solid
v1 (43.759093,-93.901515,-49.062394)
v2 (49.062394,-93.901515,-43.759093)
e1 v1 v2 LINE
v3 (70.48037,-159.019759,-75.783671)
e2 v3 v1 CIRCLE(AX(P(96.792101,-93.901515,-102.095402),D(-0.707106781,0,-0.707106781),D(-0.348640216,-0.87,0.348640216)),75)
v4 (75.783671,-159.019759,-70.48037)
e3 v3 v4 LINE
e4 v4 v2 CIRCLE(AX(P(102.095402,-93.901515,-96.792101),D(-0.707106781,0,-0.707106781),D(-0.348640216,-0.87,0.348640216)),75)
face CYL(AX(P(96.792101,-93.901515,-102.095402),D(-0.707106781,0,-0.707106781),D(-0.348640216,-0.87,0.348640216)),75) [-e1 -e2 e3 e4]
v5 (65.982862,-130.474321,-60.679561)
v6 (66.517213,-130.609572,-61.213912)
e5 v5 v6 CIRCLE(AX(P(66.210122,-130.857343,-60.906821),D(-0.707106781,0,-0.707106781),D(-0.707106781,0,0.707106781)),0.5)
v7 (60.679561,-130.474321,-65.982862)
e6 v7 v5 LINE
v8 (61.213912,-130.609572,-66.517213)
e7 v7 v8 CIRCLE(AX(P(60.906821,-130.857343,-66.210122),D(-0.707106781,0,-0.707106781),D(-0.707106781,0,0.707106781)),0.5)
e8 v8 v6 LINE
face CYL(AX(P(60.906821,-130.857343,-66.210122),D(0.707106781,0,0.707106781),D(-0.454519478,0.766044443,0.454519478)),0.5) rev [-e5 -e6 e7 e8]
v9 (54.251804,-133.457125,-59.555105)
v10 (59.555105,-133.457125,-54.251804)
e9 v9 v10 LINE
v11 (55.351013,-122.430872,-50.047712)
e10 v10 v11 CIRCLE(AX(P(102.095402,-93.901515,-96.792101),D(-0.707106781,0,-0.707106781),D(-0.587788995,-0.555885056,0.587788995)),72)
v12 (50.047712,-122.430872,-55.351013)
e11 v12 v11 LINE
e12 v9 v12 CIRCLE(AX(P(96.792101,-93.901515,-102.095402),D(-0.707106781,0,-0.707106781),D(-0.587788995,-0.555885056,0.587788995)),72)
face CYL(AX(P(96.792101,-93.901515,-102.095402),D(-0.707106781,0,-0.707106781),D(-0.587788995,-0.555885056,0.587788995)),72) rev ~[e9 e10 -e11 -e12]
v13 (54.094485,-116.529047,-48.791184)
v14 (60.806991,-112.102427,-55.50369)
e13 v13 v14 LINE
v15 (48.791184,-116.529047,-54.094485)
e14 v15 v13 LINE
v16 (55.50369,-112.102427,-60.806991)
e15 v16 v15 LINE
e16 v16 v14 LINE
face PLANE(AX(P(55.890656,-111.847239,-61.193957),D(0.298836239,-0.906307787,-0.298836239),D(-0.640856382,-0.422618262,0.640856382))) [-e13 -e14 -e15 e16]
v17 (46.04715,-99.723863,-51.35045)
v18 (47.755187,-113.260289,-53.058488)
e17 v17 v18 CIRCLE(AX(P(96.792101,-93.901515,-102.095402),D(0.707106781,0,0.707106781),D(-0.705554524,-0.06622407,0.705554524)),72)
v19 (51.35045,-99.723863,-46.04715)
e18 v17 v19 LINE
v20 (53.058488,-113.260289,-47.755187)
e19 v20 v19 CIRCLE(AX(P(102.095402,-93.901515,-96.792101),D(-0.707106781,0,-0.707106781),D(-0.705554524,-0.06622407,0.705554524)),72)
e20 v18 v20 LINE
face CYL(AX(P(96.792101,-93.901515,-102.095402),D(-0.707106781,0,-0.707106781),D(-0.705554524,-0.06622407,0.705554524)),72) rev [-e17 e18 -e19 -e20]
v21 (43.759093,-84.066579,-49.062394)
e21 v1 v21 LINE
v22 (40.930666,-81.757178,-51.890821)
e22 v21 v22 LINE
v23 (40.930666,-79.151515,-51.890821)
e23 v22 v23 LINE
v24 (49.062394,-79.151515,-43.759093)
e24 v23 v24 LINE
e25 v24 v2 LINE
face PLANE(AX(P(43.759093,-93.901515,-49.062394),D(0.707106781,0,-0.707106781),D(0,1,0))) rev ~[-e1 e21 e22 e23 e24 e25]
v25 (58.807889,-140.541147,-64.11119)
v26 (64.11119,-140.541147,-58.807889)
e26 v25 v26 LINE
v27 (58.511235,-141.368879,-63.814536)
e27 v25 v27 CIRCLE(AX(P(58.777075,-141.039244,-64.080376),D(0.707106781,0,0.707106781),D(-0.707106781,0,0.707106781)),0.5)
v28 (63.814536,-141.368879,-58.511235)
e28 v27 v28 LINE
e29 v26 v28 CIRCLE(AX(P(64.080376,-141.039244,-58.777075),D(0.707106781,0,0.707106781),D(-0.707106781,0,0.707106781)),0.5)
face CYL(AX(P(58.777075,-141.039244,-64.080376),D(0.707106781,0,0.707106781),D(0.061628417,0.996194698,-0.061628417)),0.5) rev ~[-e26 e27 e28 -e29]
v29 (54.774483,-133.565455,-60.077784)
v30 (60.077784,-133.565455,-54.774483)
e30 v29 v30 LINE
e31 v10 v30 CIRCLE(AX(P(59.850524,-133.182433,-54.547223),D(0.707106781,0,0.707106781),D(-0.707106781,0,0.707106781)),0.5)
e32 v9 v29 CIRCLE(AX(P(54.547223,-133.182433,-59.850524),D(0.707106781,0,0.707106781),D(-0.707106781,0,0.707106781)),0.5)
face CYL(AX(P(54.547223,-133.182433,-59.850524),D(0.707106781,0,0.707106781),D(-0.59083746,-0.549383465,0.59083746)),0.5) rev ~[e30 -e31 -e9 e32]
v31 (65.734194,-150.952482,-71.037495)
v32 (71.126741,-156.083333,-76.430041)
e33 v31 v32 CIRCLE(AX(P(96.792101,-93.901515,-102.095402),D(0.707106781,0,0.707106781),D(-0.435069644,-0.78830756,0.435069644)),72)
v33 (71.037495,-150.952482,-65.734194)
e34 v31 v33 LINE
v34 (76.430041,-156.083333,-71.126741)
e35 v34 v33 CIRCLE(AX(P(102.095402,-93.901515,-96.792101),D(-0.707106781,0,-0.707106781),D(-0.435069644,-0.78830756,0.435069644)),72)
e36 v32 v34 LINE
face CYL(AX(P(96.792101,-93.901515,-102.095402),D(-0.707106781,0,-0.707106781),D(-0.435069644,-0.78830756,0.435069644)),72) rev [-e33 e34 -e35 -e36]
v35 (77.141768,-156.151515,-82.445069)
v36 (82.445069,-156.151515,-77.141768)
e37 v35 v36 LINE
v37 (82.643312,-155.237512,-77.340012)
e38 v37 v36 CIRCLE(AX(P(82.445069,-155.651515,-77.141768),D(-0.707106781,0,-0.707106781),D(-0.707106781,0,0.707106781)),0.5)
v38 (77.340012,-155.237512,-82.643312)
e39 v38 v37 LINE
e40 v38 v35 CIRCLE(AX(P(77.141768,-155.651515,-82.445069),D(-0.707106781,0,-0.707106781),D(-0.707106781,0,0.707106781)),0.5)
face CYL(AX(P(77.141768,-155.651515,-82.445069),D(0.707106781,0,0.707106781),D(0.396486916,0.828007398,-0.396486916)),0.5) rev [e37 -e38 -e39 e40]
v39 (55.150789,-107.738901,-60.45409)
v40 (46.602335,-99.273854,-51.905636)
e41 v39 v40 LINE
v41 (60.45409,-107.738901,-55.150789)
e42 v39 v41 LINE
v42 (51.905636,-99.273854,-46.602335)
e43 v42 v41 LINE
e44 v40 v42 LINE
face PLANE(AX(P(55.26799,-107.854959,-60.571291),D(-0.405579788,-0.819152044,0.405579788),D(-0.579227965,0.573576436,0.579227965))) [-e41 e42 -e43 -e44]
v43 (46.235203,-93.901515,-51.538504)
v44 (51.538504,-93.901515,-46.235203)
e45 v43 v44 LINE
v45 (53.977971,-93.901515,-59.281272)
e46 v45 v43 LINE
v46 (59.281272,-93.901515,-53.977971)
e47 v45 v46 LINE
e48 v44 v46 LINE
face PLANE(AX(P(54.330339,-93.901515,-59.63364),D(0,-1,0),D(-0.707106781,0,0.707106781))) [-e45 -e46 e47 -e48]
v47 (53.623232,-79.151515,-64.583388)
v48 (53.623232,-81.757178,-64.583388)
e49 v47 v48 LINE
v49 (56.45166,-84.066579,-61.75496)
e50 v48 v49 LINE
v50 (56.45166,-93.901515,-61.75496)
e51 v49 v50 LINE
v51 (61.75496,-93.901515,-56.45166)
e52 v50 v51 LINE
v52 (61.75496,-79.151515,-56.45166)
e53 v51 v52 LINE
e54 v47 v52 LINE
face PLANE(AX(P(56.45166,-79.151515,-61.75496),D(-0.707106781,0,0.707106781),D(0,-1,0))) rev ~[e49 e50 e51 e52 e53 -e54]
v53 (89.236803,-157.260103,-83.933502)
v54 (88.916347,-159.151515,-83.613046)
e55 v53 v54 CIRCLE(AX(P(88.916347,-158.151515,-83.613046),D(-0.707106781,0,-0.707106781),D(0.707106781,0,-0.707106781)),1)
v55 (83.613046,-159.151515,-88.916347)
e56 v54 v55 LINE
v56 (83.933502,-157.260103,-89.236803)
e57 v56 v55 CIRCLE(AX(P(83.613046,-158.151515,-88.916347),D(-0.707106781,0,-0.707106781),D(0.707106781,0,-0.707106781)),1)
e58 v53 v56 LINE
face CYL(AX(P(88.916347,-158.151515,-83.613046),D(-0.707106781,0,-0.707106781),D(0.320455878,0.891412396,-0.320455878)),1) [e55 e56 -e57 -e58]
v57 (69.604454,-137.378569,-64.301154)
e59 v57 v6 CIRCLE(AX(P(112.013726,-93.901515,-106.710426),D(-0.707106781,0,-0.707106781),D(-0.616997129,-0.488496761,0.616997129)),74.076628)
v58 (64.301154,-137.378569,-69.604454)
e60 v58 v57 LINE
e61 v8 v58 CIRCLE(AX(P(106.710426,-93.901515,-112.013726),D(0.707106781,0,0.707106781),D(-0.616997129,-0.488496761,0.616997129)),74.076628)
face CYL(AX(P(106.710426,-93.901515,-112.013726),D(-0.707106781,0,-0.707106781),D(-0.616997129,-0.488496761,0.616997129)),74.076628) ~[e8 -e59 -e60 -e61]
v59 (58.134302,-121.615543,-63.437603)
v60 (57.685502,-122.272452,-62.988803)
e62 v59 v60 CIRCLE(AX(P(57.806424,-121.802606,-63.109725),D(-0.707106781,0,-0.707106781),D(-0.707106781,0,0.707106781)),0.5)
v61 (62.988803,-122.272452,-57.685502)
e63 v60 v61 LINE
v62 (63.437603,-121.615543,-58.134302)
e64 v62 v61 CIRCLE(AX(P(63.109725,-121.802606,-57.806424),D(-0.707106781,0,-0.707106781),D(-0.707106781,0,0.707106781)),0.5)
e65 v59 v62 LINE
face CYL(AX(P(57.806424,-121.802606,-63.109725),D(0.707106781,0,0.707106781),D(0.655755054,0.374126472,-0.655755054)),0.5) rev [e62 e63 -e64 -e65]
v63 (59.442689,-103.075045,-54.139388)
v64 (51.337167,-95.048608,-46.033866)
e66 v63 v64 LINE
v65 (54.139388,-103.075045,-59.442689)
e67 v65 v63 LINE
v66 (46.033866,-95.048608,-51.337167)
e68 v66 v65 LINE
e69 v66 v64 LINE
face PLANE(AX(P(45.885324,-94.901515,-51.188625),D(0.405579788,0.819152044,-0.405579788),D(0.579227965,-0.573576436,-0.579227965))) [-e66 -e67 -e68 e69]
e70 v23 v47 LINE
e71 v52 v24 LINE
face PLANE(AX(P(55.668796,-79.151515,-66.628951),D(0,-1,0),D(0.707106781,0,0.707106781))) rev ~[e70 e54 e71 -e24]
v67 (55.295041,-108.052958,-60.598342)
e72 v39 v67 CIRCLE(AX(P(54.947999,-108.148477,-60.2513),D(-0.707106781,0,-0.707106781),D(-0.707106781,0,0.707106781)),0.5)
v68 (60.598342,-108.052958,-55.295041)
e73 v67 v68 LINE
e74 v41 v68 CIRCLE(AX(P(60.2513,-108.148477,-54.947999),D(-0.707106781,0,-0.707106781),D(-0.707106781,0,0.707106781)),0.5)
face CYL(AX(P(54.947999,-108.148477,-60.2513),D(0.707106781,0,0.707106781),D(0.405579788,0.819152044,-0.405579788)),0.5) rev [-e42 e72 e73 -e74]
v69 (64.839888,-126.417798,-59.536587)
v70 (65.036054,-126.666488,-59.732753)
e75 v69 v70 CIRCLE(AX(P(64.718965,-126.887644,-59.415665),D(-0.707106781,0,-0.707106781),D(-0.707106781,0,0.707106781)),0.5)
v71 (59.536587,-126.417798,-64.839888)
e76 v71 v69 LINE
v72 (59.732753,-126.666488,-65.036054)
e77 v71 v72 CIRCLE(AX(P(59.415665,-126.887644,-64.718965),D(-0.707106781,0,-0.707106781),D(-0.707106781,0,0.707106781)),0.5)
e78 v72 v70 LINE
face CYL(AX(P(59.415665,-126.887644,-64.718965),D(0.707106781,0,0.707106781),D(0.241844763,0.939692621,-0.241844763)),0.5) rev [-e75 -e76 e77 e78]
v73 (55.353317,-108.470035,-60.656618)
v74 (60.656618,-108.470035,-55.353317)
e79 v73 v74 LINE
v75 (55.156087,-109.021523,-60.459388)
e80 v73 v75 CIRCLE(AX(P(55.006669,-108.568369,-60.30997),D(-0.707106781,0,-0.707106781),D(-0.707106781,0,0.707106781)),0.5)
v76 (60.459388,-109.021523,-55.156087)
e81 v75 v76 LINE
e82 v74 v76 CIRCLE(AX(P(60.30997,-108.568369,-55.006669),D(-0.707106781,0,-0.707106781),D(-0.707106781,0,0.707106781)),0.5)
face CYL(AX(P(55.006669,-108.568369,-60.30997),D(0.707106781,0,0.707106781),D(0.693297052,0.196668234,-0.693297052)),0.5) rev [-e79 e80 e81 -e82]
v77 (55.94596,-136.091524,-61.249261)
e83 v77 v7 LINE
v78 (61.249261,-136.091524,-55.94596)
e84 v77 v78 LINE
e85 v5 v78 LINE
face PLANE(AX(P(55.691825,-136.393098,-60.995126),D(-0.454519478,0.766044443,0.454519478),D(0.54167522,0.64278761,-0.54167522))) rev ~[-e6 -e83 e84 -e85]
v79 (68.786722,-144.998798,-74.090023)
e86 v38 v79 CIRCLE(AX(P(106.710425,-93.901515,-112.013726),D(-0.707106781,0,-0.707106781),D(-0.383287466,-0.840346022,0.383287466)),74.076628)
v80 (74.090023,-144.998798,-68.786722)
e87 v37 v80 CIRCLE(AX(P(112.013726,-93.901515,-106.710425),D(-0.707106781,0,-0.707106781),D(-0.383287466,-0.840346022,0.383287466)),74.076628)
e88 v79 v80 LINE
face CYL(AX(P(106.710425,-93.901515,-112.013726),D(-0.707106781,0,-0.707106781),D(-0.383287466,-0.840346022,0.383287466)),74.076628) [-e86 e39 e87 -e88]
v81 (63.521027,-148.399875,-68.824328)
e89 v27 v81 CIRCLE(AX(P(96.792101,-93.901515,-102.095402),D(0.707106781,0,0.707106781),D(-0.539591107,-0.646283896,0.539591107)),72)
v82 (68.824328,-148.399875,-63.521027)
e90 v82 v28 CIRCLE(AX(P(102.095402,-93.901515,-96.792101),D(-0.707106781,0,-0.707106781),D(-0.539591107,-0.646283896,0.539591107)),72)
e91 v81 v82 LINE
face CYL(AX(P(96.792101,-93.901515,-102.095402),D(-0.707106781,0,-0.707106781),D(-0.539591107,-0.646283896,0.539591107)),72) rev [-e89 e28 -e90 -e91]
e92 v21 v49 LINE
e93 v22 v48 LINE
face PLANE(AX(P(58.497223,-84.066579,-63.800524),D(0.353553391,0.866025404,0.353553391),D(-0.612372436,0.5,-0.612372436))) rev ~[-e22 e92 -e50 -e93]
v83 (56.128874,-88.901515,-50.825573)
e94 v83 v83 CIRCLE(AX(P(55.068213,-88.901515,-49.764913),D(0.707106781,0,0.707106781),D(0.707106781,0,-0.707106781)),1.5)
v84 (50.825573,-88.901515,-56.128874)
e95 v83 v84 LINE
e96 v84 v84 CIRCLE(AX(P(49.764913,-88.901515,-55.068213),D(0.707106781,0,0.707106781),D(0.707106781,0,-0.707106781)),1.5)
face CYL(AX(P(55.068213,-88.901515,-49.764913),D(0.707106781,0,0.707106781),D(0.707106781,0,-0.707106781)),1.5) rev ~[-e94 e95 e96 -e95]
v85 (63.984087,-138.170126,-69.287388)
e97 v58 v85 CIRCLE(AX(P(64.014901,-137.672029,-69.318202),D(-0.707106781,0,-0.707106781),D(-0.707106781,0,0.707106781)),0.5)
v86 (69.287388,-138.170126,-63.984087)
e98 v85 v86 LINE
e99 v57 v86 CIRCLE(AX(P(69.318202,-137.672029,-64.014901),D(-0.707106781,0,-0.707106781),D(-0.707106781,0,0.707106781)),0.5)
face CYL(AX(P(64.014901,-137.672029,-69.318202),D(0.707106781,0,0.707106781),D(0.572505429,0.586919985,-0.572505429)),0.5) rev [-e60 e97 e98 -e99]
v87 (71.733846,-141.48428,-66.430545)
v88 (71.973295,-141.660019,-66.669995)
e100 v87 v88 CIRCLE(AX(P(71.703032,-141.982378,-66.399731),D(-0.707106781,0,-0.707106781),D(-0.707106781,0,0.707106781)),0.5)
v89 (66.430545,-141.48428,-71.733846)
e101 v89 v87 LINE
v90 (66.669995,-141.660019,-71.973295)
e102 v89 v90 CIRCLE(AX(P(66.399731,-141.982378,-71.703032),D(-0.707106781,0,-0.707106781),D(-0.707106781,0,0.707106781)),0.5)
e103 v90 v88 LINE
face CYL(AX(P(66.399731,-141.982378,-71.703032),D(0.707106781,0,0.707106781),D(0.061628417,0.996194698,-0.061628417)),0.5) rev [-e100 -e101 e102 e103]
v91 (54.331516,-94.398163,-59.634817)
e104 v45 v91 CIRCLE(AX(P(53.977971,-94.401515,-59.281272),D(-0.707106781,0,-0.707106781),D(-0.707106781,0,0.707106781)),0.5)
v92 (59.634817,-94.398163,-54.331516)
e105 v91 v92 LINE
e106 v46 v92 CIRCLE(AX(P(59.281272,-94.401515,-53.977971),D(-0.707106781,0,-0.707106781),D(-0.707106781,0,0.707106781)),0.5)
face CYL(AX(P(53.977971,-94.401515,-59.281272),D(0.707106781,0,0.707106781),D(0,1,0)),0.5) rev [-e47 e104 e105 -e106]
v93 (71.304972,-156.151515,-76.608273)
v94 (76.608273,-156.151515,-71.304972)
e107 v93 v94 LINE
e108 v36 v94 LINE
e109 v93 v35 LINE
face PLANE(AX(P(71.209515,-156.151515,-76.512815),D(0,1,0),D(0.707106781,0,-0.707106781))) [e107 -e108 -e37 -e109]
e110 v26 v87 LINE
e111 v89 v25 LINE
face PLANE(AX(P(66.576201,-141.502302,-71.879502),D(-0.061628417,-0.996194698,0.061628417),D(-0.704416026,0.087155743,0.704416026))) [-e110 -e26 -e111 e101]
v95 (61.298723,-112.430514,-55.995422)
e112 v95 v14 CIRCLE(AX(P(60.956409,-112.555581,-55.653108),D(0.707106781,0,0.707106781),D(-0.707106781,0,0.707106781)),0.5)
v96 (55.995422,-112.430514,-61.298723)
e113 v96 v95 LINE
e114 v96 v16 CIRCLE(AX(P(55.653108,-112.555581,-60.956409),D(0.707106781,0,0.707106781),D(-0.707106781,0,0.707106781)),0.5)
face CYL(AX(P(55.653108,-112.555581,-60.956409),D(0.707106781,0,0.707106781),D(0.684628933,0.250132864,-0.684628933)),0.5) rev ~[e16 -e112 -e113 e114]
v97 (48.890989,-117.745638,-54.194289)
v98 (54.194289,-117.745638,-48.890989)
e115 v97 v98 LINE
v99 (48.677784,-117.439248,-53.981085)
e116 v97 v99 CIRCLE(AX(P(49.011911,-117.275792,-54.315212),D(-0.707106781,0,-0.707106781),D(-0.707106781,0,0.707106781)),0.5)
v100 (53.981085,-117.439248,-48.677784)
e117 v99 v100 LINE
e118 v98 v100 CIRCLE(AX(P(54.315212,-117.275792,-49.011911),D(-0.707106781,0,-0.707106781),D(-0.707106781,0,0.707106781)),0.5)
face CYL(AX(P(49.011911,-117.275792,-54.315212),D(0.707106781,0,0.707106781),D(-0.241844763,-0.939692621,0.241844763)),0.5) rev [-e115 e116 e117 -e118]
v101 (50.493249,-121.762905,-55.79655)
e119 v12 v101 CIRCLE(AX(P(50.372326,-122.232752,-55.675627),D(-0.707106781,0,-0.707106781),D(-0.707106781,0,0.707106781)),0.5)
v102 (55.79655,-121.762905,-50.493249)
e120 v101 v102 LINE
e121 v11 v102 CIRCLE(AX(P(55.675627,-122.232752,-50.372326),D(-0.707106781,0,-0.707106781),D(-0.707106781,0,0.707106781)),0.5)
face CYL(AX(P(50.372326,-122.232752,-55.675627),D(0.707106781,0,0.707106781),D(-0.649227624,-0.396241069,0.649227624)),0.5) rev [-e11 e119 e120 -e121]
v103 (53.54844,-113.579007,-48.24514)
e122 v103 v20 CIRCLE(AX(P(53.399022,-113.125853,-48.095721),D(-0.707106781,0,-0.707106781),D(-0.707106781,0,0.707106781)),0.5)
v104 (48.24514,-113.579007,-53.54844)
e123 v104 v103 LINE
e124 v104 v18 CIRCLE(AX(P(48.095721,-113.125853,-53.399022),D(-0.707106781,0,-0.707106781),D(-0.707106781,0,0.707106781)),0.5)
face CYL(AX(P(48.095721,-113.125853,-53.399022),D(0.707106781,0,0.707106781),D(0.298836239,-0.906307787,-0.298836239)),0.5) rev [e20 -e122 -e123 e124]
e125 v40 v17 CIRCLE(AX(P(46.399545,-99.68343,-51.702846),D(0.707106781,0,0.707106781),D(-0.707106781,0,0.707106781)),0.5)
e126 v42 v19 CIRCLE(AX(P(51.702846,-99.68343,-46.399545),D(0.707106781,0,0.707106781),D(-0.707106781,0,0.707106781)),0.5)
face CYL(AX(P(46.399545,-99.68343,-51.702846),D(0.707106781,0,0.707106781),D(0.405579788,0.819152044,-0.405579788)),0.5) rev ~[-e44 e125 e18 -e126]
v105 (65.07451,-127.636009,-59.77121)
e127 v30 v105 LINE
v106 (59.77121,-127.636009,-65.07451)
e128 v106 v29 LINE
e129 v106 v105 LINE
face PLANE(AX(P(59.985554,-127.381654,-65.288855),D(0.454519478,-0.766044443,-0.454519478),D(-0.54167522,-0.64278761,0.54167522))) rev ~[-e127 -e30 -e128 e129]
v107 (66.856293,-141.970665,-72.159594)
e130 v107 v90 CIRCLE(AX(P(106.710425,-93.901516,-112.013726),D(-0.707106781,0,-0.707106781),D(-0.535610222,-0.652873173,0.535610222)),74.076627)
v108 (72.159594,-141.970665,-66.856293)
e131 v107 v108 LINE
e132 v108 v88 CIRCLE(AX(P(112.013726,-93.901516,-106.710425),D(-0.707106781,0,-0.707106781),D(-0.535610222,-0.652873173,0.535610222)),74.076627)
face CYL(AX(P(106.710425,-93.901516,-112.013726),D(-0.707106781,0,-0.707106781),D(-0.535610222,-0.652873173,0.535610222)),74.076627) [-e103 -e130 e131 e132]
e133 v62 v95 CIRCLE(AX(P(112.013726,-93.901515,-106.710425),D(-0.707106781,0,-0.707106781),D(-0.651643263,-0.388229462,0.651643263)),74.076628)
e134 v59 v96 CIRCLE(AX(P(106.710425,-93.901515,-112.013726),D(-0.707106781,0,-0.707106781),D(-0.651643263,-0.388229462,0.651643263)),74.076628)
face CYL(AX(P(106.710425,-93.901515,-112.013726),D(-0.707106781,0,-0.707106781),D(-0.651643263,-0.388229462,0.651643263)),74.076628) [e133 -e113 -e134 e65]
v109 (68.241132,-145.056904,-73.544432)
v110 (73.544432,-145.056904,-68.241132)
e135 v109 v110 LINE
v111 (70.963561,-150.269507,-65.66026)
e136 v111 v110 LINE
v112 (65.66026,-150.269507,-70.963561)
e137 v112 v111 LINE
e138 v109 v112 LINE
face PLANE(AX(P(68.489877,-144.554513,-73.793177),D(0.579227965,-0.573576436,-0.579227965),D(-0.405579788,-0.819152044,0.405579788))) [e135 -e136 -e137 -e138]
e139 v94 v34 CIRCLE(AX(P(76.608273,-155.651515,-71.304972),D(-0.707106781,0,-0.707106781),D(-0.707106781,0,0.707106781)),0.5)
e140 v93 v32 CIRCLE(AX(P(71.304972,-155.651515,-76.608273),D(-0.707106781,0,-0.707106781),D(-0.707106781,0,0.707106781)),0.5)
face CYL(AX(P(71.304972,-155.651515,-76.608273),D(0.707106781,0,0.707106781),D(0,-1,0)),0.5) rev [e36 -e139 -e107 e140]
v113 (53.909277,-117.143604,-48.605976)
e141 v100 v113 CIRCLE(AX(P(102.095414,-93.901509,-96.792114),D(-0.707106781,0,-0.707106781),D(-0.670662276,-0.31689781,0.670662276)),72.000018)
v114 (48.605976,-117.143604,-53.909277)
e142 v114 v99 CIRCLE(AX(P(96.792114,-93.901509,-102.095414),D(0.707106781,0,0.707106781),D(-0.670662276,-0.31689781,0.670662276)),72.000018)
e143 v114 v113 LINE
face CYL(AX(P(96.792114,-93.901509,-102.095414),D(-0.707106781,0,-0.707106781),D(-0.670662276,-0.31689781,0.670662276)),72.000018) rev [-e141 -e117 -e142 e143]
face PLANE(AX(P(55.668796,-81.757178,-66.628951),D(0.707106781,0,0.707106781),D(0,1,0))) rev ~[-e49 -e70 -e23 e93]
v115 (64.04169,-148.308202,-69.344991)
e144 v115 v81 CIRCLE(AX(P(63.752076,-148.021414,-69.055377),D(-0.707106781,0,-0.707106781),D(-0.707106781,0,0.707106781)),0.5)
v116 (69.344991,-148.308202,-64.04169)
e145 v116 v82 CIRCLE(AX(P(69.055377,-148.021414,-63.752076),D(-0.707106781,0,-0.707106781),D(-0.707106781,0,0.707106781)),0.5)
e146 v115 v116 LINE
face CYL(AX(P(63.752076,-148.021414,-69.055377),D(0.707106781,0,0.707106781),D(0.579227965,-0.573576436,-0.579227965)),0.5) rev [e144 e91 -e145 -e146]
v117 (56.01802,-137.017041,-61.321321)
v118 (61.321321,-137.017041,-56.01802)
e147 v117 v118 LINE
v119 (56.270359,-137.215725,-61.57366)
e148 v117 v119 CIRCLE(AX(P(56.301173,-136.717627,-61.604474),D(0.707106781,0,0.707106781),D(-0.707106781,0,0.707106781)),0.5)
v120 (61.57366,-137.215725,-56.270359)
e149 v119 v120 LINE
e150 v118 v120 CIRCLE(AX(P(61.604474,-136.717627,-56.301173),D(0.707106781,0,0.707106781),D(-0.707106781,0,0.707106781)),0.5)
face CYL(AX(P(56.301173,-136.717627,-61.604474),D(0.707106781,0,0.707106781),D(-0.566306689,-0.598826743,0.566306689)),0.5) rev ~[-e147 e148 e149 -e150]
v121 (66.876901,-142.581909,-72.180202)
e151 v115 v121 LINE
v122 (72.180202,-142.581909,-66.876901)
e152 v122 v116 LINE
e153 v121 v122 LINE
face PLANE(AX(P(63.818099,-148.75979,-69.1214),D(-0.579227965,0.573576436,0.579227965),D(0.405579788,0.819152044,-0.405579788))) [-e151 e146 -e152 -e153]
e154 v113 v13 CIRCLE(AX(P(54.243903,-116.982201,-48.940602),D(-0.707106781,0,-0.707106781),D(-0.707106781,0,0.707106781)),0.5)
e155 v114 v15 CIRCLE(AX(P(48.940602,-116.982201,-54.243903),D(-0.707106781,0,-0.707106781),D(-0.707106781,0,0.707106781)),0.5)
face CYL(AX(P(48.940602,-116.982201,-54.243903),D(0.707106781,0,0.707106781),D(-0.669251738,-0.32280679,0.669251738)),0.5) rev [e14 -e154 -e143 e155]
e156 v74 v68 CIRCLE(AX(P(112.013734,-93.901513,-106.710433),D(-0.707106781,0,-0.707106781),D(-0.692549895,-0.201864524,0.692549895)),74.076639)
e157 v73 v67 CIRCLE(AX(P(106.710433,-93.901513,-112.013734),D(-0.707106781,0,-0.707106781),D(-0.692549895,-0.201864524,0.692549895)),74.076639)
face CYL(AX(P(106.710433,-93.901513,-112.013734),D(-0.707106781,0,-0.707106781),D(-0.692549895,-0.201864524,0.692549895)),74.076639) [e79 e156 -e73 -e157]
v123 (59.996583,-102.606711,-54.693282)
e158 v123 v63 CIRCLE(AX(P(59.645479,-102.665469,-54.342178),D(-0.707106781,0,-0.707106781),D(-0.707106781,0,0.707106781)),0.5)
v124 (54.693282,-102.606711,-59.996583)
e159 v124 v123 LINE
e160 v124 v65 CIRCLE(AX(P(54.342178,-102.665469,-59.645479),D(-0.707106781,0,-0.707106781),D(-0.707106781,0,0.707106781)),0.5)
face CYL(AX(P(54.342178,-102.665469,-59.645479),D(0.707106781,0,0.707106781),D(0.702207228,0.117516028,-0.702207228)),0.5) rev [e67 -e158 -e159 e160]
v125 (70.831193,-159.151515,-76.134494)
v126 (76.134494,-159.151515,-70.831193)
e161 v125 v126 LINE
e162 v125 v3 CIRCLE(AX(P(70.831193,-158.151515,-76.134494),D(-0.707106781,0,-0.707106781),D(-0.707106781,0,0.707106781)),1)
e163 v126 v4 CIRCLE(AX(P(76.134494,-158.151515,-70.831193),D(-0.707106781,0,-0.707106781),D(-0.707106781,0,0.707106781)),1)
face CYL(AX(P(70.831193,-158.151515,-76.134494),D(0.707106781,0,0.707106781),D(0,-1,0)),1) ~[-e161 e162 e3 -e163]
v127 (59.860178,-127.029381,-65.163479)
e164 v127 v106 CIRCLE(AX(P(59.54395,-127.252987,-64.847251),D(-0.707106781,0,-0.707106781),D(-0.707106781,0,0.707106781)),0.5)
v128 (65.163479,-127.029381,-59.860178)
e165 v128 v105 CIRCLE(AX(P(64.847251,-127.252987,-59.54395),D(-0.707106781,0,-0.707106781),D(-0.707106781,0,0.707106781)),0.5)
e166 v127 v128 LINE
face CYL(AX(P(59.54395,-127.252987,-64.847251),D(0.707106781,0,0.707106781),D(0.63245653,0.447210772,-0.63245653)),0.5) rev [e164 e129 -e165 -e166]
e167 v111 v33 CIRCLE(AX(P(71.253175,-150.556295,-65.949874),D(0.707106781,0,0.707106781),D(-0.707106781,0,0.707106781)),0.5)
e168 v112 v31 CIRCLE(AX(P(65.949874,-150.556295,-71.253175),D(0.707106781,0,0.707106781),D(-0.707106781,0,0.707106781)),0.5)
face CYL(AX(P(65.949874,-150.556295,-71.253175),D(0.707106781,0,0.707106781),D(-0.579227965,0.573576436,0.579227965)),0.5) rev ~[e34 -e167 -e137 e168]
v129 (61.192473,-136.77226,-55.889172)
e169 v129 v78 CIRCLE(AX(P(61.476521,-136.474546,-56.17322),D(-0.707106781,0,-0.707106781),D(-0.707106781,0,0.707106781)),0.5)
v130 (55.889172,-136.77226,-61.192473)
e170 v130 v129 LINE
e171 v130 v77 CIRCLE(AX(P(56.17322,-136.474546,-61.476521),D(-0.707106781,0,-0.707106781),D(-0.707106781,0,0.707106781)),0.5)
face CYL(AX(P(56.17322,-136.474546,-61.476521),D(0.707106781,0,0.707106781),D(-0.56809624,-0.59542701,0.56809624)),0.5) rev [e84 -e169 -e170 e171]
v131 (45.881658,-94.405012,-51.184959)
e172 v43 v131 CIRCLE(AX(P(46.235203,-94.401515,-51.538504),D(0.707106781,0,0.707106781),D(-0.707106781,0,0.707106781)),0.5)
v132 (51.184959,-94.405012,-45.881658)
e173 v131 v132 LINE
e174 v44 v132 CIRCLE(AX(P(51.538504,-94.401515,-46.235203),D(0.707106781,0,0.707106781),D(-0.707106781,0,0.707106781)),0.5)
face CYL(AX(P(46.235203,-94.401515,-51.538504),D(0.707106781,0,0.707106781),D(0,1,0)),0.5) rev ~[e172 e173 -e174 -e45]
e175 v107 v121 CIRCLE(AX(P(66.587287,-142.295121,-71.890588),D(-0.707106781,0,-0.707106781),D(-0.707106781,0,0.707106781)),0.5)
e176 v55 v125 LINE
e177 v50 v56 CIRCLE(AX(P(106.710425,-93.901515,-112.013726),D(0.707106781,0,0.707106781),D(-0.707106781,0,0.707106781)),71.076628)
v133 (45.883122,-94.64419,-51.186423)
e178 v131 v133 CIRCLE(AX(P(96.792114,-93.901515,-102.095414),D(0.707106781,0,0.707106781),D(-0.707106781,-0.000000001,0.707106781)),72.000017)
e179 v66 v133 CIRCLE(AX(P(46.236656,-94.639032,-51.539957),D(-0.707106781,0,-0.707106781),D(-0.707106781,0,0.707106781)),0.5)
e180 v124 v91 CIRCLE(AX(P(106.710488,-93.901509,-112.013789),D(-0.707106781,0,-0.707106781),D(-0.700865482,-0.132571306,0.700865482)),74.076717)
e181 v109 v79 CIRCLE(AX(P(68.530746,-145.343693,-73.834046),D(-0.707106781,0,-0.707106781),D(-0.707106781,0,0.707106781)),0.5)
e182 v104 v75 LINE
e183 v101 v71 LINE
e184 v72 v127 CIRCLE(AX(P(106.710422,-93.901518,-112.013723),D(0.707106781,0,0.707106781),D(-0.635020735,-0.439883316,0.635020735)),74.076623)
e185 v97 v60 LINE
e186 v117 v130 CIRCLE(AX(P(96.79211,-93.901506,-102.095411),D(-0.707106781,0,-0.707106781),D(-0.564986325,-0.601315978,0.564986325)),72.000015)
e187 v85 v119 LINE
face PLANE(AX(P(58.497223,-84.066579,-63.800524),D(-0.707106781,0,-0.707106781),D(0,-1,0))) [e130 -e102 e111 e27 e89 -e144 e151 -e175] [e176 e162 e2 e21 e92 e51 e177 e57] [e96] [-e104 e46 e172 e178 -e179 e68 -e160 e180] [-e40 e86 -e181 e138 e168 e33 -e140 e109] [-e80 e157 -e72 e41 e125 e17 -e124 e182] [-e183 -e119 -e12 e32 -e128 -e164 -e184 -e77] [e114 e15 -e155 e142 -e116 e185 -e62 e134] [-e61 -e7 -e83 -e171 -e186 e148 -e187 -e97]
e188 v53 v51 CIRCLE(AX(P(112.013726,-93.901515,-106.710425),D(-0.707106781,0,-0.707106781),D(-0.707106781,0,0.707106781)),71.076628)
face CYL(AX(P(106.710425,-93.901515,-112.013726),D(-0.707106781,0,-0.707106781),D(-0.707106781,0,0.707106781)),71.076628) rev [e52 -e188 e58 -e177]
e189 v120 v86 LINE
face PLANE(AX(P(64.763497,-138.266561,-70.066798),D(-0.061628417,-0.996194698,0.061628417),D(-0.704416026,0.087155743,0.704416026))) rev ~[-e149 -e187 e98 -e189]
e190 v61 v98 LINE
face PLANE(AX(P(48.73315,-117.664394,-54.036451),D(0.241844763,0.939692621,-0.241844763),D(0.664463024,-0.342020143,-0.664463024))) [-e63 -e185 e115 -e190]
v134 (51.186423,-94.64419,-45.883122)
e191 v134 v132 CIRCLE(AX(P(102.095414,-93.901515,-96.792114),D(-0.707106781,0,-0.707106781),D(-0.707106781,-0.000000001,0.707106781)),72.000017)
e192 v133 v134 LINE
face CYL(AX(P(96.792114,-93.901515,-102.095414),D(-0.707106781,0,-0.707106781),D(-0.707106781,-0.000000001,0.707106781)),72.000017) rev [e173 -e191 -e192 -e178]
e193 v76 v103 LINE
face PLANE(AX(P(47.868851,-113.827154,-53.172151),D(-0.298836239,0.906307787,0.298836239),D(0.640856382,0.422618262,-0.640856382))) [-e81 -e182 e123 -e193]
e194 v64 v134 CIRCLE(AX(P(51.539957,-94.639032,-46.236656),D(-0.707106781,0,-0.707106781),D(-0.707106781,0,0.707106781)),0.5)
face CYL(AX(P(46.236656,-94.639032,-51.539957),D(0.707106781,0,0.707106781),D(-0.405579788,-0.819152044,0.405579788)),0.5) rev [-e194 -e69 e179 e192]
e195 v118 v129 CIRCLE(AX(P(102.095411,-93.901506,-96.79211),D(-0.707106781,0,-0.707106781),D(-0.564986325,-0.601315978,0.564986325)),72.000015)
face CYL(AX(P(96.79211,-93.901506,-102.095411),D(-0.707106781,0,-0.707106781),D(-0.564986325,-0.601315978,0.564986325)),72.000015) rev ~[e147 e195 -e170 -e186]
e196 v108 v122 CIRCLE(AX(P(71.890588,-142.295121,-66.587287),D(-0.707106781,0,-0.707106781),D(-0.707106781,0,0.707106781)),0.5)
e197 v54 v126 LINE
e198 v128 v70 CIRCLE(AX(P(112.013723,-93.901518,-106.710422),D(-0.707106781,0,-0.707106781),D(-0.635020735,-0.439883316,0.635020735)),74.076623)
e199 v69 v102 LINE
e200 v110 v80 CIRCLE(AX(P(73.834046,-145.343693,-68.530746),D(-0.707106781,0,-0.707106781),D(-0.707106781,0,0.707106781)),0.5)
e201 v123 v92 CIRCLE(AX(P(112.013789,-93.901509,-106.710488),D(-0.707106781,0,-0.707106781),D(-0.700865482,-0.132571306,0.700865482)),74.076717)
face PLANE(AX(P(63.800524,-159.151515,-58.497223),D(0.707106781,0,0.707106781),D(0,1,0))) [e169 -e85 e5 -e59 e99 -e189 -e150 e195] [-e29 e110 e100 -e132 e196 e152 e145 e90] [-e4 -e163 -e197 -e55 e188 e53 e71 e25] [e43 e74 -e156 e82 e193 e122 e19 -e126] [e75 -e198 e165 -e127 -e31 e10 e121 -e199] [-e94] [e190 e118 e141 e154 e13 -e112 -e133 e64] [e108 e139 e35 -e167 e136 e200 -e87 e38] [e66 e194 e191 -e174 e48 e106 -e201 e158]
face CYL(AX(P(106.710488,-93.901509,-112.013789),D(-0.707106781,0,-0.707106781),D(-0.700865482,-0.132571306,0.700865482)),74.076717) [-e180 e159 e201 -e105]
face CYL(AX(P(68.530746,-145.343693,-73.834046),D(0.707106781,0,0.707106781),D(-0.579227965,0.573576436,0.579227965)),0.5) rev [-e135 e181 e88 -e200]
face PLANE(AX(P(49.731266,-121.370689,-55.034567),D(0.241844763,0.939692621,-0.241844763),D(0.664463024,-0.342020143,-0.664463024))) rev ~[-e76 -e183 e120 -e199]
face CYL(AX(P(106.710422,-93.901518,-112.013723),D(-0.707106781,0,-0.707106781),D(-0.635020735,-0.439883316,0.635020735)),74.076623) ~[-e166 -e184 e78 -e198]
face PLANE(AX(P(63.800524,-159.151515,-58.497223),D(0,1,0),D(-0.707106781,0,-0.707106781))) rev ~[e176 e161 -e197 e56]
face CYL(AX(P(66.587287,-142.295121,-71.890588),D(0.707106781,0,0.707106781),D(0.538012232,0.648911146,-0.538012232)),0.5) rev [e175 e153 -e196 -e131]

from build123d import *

# Parameters (mm, degrees)
BOSS_EXTRUDE1_DEPTH      = 40
BOSS_EXTRUDE1_DEPTH_BACK = 40
CUT_EXTRUDE1_DEPTH       = 30
CUT_EXTRUDE1_DEPTH_BACK  = 48.5
SKETCH3_R                = 1.5
CUT_EXTRUDE2_DEPTH       = 40.921431767
FILLET1_R                = 1
CUT_EXTRUDE3_DEPTH       = 40
FILLET2_R                = 0.5


with BuildPart() as part:
    # Sketch1 → Boss-Extrude1 (new body, two sides)
    with BuildSketch(Plane(origin=(61.148873397, 0, -61.148873397), x_dir=(0.707106781, 0, 0.707106781), z_dir=(-0.707106781, 0, 0.707106781))) as boss_extrude1_sk:
        Polygon((-3.75, -92.901515315), (-3.75, -84.066578824), (-7.75, -81.757177748), (-7.75, -79.151515315), (3.75, -79.151515315), (3.75, -92.901515315), (3.75, -159.151515315), (-3.75, -159.151515315), align=None)
    extrude(amount=BOSS_EXTRUDE1_DEPTH)
    extrude(boss_extrude1_sk.sketch, amount=-BOSS_EXTRUDE1_DEPTH_BACK)

    # Sketch2 → Cut-Extrude1 (cut, two sides)
    with BuildSketch(Plane(origin=(-2.651650429, 0, -2.651650429), x_dir=(-0.707106781, 0, 0.707106781), z_dir=(-0.707106781, 0, -0.707106781))) as cut_extrude1_sk:
        with BuildLine():
            Line((-83.584702548, -79.151515315), (-83.584702548, -93.901515315))
            ThreePointArc((-83.584702548, -93.901515315), (-95.268174411, -132.944313121), (-126.477566081, -159.151515315))
            Line((-126.477566081, -159.151515315), (-126.477566081, -79.151515315))
            Line((-126.477566081, -79.151515315), (-83.584702548, -79.151515315))
        make_face()
        with BuildLine():
            Line((-65.634702548, -93.901515315), (-65.634702548, -79.151515315))
            Line((-65.634702548, -79.151515315), (-46.477566081, -79.151515315))
            Line((-46.477566081, -79.151515315), (-46.477566081, -159.151515315))
            Line((-46.477566081, -159.151515315), (-103.655823441, -159.151515315))
            ThreePointArc((-103.655823441, -159.151515315), (-75.833406523, -131.661176774), (-65.634702548, -93.901515315))
        make_face()
    extrude(amount=CUT_EXTRUDE1_DEPTH, mode=Mode.SUBTRACT)
    extrude(cut_extrude1_sk.sketch, amount=-CUT_EXTRUDE1_DEPTH_BACK, mode=Mode.SUBTRACT)

    # Sketch3 → Cut-Extrude2 (cut, through all)
    with BuildSketch(Plane(origin=(2.651650429, 0, 2.651650429), x_dir=(0.707106781, 0, -0.707106781), z_dir=(0.707106781, 0, 0.707106781))):
        with Locations((74.128214207, -88.901515315)):
            Circle(SKETCH3_R)
    extrude(amount=-CUT_EXTRUDE2_DEPTH, mode=Mode.SUBTRACT)

    # Fillet1
    fillet1_edges = [part.edges().sort_by_distance(p)[0] for p in [
        (73.295735665, -159.151515315, -73.295735665),
        (89.433144644, -159.151515315, -89.433144644),
    ]]
    fillet(fillet1_edges, radius=FILLET1_R)

    # Sketch4 → Cut-Extrude3 (cut)
    with BuildSketch(Plane(origin=(-2.651650429, 0, -2.651650429), x_dir=(-0.707106781, 0, 0.707106781), z_dir=(-0.707106781, 0, -0.707106781))):
        with BuildLine():
            ThreePointArc((-96.334442354, -150.659659636), (-100.301370683, -153.543969496), (-104.455461262, -156.151515315))
            Line((-104.455461262, -156.151515315), (-114.508069897, -156.151515315))
            ThreePointArc((-114.508069897, -156.151515315), (-107.203125114, -150.779152155), (-100.609312238, -144.554512732))
            Line((-100.609312238, -144.554512732), (-96.334442354, -150.659659636))
        make_face()
        with BuildLine():
            ThreePointArc((-85.691714117, -140.433955852), (-89.676742116, -144.76688928), (-94.002421329, -148.759790428))
            Line((-94.002421329, -148.759790428), (-98.550711636, -142.264158692))
            ThreePointArc((-98.550711636, -142.264158692), (-98.225553246, -141.884323374), (-97.902966063, -141.502301965))
            Line((-97.902966063, -141.502301965), (-85.691714117, -140.433955852))
        make_face()
        with BuildLine():
            ThreePointArc((-83.105887337, -137.19626581), (-82.806616537, -136.795716185), (-82.510134547, -136.393097949))
            Line((-82.510134547, -136.393097949), (-90.024605255, -130.087708349))
            ThreePointArc((-90.024605255, -130.087708349), (-92.547245897, -134.264707863), (-95.339415884, -138.266560873))
            Line((-95.339415884, -138.266560873), (-83.105887337, -137.19626581))
        make_face()
        with BuildLine():
            ThreePointArc((-80.784042437, -133.925239334), (-77.121371127, -127.814001685), (-74.080630429, -121.370688662))
            Line((-74.080630429, -121.370688662), (-88.136449193, -126.48658831))
            ThreePointArc((-88.136449193, -126.48658831), (-88.357906284, -126.934873492), (-88.582384151, -127.381653678))
            Line((-88.582384151, -127.381653678), (-80.784042437, -133.925239334))
        make_face()
        with BuildLine():
            Line((-82.791324081, -111.847238704), (-72.34560503, -116.718157493))
            ThreePointArc((-72.34560503, -116.718157493), (-72.505700586, -117.19183716), (-72.669081723, -117.664393631))
            Line((-72.669081723, -117.664393631), (-86.395070265, -122.660244896))
            ThreePointArc((-86.395070265, -122.660244896), (-84.384922058, -117.323155489), (-82.791324081, -111.847238704))
        make_face()
        with BuildLine():
            ThreePointArc((-68.79275862, -98.669648347), (-69.713665767, -106.319507983), (-71.446777789, -113.827153762))
            Line((-71.446777789, -113.827153762), (-82.109684478, -108.854958715))
            ThreePointArc((-82.109684478, -108.854958715), (-82.008492364, -108.355301003), (-81.910741312, -107.854958715))
            Line((-81.910741312, -107.854958715), (-68.79275862, -98.669648347))
        make_face()
        with BuildLine():
            ThreePointArc((-68.634702548, -93.901515315), (-68.636438764, -94.401527372), (-68.641647327, -94.901515315))
            Line((-68.641647327, -94.901515315), (-81.238542868, -103.721956531))
            ThreePointArc((-81.238542868, -103.721956531), (-80.748343571, -98.82260697), (-80.584702548, -93.901515315))
            Line((-80.584702548, -93.901515315), (-68.634702548, -93.901515315))
        make_face()
    extrude(amount=-CUT_EXTRUDE3_DEPTH, mode=Mode.SUBTRACT)

    # Fillet2
    fillet2_edges = [part.edges().sort_by_distance(p)[0] for p in [
        (68.11873745, -150.659659636, -68.11873745),
        (73.86116499, -156.151515315, -73.86116499),
        (80.969432725, -156.151515315, -80.969432725),
        (71.141526934, -144.554512732, -71.141526934),
        (60.593192144, -140.433955852, -60.593192144),
        (66.46974957, -148.759790428, -66.46974957),
        (69.685876488, -142.264158692, -69.685876488),
        (69.227851202, -141.502301965, -69.227851202),
        (58.343475655, -136.393097949, -58.343475655),
        (58.764736493, -137.19626581, -58.764736493),
        (67.415147486, -138.266560873, -67.415147486),
        (63.65700885, -130.087708349, -63.65700885),
        (52.382916131, -121.370688662, -52.382916131),
        (57.122944219, -133.925239334, -57.122944219),
        (62.637204527, -127.381653678, -62.637204527),
        (62.321880894, -126.48658831, -62.321880894),
        (58.542306681, -111.847238704, -58.542306681),
        (51.156067906, -116.718157493, -51.156067906),
        (51.384800469, -117.664393631, -51.384800469),
        (61.090540045, -122.660244896, -61.090540045),
        (48.643826116, -98.669648347, -48.643826116),
        (50.520501068, -113.827153762, -50.520501068),
        (58.060314695, -108.854958715, -58.060314695),
        (57.919640634, -107.854958715, -57.919640634),
        (48.532063596, -93.901515315, -48.532063596),
        (48.536974297, -94.901515315, -48.536974297),
        (57.444324556, -103.721956531, -57.444324556),
        (56.981989631, -93.901515315, -56.981989631),
    ]]
    fillet(fillet2_edges, radius=FILLET2_R)


solid = part.part
